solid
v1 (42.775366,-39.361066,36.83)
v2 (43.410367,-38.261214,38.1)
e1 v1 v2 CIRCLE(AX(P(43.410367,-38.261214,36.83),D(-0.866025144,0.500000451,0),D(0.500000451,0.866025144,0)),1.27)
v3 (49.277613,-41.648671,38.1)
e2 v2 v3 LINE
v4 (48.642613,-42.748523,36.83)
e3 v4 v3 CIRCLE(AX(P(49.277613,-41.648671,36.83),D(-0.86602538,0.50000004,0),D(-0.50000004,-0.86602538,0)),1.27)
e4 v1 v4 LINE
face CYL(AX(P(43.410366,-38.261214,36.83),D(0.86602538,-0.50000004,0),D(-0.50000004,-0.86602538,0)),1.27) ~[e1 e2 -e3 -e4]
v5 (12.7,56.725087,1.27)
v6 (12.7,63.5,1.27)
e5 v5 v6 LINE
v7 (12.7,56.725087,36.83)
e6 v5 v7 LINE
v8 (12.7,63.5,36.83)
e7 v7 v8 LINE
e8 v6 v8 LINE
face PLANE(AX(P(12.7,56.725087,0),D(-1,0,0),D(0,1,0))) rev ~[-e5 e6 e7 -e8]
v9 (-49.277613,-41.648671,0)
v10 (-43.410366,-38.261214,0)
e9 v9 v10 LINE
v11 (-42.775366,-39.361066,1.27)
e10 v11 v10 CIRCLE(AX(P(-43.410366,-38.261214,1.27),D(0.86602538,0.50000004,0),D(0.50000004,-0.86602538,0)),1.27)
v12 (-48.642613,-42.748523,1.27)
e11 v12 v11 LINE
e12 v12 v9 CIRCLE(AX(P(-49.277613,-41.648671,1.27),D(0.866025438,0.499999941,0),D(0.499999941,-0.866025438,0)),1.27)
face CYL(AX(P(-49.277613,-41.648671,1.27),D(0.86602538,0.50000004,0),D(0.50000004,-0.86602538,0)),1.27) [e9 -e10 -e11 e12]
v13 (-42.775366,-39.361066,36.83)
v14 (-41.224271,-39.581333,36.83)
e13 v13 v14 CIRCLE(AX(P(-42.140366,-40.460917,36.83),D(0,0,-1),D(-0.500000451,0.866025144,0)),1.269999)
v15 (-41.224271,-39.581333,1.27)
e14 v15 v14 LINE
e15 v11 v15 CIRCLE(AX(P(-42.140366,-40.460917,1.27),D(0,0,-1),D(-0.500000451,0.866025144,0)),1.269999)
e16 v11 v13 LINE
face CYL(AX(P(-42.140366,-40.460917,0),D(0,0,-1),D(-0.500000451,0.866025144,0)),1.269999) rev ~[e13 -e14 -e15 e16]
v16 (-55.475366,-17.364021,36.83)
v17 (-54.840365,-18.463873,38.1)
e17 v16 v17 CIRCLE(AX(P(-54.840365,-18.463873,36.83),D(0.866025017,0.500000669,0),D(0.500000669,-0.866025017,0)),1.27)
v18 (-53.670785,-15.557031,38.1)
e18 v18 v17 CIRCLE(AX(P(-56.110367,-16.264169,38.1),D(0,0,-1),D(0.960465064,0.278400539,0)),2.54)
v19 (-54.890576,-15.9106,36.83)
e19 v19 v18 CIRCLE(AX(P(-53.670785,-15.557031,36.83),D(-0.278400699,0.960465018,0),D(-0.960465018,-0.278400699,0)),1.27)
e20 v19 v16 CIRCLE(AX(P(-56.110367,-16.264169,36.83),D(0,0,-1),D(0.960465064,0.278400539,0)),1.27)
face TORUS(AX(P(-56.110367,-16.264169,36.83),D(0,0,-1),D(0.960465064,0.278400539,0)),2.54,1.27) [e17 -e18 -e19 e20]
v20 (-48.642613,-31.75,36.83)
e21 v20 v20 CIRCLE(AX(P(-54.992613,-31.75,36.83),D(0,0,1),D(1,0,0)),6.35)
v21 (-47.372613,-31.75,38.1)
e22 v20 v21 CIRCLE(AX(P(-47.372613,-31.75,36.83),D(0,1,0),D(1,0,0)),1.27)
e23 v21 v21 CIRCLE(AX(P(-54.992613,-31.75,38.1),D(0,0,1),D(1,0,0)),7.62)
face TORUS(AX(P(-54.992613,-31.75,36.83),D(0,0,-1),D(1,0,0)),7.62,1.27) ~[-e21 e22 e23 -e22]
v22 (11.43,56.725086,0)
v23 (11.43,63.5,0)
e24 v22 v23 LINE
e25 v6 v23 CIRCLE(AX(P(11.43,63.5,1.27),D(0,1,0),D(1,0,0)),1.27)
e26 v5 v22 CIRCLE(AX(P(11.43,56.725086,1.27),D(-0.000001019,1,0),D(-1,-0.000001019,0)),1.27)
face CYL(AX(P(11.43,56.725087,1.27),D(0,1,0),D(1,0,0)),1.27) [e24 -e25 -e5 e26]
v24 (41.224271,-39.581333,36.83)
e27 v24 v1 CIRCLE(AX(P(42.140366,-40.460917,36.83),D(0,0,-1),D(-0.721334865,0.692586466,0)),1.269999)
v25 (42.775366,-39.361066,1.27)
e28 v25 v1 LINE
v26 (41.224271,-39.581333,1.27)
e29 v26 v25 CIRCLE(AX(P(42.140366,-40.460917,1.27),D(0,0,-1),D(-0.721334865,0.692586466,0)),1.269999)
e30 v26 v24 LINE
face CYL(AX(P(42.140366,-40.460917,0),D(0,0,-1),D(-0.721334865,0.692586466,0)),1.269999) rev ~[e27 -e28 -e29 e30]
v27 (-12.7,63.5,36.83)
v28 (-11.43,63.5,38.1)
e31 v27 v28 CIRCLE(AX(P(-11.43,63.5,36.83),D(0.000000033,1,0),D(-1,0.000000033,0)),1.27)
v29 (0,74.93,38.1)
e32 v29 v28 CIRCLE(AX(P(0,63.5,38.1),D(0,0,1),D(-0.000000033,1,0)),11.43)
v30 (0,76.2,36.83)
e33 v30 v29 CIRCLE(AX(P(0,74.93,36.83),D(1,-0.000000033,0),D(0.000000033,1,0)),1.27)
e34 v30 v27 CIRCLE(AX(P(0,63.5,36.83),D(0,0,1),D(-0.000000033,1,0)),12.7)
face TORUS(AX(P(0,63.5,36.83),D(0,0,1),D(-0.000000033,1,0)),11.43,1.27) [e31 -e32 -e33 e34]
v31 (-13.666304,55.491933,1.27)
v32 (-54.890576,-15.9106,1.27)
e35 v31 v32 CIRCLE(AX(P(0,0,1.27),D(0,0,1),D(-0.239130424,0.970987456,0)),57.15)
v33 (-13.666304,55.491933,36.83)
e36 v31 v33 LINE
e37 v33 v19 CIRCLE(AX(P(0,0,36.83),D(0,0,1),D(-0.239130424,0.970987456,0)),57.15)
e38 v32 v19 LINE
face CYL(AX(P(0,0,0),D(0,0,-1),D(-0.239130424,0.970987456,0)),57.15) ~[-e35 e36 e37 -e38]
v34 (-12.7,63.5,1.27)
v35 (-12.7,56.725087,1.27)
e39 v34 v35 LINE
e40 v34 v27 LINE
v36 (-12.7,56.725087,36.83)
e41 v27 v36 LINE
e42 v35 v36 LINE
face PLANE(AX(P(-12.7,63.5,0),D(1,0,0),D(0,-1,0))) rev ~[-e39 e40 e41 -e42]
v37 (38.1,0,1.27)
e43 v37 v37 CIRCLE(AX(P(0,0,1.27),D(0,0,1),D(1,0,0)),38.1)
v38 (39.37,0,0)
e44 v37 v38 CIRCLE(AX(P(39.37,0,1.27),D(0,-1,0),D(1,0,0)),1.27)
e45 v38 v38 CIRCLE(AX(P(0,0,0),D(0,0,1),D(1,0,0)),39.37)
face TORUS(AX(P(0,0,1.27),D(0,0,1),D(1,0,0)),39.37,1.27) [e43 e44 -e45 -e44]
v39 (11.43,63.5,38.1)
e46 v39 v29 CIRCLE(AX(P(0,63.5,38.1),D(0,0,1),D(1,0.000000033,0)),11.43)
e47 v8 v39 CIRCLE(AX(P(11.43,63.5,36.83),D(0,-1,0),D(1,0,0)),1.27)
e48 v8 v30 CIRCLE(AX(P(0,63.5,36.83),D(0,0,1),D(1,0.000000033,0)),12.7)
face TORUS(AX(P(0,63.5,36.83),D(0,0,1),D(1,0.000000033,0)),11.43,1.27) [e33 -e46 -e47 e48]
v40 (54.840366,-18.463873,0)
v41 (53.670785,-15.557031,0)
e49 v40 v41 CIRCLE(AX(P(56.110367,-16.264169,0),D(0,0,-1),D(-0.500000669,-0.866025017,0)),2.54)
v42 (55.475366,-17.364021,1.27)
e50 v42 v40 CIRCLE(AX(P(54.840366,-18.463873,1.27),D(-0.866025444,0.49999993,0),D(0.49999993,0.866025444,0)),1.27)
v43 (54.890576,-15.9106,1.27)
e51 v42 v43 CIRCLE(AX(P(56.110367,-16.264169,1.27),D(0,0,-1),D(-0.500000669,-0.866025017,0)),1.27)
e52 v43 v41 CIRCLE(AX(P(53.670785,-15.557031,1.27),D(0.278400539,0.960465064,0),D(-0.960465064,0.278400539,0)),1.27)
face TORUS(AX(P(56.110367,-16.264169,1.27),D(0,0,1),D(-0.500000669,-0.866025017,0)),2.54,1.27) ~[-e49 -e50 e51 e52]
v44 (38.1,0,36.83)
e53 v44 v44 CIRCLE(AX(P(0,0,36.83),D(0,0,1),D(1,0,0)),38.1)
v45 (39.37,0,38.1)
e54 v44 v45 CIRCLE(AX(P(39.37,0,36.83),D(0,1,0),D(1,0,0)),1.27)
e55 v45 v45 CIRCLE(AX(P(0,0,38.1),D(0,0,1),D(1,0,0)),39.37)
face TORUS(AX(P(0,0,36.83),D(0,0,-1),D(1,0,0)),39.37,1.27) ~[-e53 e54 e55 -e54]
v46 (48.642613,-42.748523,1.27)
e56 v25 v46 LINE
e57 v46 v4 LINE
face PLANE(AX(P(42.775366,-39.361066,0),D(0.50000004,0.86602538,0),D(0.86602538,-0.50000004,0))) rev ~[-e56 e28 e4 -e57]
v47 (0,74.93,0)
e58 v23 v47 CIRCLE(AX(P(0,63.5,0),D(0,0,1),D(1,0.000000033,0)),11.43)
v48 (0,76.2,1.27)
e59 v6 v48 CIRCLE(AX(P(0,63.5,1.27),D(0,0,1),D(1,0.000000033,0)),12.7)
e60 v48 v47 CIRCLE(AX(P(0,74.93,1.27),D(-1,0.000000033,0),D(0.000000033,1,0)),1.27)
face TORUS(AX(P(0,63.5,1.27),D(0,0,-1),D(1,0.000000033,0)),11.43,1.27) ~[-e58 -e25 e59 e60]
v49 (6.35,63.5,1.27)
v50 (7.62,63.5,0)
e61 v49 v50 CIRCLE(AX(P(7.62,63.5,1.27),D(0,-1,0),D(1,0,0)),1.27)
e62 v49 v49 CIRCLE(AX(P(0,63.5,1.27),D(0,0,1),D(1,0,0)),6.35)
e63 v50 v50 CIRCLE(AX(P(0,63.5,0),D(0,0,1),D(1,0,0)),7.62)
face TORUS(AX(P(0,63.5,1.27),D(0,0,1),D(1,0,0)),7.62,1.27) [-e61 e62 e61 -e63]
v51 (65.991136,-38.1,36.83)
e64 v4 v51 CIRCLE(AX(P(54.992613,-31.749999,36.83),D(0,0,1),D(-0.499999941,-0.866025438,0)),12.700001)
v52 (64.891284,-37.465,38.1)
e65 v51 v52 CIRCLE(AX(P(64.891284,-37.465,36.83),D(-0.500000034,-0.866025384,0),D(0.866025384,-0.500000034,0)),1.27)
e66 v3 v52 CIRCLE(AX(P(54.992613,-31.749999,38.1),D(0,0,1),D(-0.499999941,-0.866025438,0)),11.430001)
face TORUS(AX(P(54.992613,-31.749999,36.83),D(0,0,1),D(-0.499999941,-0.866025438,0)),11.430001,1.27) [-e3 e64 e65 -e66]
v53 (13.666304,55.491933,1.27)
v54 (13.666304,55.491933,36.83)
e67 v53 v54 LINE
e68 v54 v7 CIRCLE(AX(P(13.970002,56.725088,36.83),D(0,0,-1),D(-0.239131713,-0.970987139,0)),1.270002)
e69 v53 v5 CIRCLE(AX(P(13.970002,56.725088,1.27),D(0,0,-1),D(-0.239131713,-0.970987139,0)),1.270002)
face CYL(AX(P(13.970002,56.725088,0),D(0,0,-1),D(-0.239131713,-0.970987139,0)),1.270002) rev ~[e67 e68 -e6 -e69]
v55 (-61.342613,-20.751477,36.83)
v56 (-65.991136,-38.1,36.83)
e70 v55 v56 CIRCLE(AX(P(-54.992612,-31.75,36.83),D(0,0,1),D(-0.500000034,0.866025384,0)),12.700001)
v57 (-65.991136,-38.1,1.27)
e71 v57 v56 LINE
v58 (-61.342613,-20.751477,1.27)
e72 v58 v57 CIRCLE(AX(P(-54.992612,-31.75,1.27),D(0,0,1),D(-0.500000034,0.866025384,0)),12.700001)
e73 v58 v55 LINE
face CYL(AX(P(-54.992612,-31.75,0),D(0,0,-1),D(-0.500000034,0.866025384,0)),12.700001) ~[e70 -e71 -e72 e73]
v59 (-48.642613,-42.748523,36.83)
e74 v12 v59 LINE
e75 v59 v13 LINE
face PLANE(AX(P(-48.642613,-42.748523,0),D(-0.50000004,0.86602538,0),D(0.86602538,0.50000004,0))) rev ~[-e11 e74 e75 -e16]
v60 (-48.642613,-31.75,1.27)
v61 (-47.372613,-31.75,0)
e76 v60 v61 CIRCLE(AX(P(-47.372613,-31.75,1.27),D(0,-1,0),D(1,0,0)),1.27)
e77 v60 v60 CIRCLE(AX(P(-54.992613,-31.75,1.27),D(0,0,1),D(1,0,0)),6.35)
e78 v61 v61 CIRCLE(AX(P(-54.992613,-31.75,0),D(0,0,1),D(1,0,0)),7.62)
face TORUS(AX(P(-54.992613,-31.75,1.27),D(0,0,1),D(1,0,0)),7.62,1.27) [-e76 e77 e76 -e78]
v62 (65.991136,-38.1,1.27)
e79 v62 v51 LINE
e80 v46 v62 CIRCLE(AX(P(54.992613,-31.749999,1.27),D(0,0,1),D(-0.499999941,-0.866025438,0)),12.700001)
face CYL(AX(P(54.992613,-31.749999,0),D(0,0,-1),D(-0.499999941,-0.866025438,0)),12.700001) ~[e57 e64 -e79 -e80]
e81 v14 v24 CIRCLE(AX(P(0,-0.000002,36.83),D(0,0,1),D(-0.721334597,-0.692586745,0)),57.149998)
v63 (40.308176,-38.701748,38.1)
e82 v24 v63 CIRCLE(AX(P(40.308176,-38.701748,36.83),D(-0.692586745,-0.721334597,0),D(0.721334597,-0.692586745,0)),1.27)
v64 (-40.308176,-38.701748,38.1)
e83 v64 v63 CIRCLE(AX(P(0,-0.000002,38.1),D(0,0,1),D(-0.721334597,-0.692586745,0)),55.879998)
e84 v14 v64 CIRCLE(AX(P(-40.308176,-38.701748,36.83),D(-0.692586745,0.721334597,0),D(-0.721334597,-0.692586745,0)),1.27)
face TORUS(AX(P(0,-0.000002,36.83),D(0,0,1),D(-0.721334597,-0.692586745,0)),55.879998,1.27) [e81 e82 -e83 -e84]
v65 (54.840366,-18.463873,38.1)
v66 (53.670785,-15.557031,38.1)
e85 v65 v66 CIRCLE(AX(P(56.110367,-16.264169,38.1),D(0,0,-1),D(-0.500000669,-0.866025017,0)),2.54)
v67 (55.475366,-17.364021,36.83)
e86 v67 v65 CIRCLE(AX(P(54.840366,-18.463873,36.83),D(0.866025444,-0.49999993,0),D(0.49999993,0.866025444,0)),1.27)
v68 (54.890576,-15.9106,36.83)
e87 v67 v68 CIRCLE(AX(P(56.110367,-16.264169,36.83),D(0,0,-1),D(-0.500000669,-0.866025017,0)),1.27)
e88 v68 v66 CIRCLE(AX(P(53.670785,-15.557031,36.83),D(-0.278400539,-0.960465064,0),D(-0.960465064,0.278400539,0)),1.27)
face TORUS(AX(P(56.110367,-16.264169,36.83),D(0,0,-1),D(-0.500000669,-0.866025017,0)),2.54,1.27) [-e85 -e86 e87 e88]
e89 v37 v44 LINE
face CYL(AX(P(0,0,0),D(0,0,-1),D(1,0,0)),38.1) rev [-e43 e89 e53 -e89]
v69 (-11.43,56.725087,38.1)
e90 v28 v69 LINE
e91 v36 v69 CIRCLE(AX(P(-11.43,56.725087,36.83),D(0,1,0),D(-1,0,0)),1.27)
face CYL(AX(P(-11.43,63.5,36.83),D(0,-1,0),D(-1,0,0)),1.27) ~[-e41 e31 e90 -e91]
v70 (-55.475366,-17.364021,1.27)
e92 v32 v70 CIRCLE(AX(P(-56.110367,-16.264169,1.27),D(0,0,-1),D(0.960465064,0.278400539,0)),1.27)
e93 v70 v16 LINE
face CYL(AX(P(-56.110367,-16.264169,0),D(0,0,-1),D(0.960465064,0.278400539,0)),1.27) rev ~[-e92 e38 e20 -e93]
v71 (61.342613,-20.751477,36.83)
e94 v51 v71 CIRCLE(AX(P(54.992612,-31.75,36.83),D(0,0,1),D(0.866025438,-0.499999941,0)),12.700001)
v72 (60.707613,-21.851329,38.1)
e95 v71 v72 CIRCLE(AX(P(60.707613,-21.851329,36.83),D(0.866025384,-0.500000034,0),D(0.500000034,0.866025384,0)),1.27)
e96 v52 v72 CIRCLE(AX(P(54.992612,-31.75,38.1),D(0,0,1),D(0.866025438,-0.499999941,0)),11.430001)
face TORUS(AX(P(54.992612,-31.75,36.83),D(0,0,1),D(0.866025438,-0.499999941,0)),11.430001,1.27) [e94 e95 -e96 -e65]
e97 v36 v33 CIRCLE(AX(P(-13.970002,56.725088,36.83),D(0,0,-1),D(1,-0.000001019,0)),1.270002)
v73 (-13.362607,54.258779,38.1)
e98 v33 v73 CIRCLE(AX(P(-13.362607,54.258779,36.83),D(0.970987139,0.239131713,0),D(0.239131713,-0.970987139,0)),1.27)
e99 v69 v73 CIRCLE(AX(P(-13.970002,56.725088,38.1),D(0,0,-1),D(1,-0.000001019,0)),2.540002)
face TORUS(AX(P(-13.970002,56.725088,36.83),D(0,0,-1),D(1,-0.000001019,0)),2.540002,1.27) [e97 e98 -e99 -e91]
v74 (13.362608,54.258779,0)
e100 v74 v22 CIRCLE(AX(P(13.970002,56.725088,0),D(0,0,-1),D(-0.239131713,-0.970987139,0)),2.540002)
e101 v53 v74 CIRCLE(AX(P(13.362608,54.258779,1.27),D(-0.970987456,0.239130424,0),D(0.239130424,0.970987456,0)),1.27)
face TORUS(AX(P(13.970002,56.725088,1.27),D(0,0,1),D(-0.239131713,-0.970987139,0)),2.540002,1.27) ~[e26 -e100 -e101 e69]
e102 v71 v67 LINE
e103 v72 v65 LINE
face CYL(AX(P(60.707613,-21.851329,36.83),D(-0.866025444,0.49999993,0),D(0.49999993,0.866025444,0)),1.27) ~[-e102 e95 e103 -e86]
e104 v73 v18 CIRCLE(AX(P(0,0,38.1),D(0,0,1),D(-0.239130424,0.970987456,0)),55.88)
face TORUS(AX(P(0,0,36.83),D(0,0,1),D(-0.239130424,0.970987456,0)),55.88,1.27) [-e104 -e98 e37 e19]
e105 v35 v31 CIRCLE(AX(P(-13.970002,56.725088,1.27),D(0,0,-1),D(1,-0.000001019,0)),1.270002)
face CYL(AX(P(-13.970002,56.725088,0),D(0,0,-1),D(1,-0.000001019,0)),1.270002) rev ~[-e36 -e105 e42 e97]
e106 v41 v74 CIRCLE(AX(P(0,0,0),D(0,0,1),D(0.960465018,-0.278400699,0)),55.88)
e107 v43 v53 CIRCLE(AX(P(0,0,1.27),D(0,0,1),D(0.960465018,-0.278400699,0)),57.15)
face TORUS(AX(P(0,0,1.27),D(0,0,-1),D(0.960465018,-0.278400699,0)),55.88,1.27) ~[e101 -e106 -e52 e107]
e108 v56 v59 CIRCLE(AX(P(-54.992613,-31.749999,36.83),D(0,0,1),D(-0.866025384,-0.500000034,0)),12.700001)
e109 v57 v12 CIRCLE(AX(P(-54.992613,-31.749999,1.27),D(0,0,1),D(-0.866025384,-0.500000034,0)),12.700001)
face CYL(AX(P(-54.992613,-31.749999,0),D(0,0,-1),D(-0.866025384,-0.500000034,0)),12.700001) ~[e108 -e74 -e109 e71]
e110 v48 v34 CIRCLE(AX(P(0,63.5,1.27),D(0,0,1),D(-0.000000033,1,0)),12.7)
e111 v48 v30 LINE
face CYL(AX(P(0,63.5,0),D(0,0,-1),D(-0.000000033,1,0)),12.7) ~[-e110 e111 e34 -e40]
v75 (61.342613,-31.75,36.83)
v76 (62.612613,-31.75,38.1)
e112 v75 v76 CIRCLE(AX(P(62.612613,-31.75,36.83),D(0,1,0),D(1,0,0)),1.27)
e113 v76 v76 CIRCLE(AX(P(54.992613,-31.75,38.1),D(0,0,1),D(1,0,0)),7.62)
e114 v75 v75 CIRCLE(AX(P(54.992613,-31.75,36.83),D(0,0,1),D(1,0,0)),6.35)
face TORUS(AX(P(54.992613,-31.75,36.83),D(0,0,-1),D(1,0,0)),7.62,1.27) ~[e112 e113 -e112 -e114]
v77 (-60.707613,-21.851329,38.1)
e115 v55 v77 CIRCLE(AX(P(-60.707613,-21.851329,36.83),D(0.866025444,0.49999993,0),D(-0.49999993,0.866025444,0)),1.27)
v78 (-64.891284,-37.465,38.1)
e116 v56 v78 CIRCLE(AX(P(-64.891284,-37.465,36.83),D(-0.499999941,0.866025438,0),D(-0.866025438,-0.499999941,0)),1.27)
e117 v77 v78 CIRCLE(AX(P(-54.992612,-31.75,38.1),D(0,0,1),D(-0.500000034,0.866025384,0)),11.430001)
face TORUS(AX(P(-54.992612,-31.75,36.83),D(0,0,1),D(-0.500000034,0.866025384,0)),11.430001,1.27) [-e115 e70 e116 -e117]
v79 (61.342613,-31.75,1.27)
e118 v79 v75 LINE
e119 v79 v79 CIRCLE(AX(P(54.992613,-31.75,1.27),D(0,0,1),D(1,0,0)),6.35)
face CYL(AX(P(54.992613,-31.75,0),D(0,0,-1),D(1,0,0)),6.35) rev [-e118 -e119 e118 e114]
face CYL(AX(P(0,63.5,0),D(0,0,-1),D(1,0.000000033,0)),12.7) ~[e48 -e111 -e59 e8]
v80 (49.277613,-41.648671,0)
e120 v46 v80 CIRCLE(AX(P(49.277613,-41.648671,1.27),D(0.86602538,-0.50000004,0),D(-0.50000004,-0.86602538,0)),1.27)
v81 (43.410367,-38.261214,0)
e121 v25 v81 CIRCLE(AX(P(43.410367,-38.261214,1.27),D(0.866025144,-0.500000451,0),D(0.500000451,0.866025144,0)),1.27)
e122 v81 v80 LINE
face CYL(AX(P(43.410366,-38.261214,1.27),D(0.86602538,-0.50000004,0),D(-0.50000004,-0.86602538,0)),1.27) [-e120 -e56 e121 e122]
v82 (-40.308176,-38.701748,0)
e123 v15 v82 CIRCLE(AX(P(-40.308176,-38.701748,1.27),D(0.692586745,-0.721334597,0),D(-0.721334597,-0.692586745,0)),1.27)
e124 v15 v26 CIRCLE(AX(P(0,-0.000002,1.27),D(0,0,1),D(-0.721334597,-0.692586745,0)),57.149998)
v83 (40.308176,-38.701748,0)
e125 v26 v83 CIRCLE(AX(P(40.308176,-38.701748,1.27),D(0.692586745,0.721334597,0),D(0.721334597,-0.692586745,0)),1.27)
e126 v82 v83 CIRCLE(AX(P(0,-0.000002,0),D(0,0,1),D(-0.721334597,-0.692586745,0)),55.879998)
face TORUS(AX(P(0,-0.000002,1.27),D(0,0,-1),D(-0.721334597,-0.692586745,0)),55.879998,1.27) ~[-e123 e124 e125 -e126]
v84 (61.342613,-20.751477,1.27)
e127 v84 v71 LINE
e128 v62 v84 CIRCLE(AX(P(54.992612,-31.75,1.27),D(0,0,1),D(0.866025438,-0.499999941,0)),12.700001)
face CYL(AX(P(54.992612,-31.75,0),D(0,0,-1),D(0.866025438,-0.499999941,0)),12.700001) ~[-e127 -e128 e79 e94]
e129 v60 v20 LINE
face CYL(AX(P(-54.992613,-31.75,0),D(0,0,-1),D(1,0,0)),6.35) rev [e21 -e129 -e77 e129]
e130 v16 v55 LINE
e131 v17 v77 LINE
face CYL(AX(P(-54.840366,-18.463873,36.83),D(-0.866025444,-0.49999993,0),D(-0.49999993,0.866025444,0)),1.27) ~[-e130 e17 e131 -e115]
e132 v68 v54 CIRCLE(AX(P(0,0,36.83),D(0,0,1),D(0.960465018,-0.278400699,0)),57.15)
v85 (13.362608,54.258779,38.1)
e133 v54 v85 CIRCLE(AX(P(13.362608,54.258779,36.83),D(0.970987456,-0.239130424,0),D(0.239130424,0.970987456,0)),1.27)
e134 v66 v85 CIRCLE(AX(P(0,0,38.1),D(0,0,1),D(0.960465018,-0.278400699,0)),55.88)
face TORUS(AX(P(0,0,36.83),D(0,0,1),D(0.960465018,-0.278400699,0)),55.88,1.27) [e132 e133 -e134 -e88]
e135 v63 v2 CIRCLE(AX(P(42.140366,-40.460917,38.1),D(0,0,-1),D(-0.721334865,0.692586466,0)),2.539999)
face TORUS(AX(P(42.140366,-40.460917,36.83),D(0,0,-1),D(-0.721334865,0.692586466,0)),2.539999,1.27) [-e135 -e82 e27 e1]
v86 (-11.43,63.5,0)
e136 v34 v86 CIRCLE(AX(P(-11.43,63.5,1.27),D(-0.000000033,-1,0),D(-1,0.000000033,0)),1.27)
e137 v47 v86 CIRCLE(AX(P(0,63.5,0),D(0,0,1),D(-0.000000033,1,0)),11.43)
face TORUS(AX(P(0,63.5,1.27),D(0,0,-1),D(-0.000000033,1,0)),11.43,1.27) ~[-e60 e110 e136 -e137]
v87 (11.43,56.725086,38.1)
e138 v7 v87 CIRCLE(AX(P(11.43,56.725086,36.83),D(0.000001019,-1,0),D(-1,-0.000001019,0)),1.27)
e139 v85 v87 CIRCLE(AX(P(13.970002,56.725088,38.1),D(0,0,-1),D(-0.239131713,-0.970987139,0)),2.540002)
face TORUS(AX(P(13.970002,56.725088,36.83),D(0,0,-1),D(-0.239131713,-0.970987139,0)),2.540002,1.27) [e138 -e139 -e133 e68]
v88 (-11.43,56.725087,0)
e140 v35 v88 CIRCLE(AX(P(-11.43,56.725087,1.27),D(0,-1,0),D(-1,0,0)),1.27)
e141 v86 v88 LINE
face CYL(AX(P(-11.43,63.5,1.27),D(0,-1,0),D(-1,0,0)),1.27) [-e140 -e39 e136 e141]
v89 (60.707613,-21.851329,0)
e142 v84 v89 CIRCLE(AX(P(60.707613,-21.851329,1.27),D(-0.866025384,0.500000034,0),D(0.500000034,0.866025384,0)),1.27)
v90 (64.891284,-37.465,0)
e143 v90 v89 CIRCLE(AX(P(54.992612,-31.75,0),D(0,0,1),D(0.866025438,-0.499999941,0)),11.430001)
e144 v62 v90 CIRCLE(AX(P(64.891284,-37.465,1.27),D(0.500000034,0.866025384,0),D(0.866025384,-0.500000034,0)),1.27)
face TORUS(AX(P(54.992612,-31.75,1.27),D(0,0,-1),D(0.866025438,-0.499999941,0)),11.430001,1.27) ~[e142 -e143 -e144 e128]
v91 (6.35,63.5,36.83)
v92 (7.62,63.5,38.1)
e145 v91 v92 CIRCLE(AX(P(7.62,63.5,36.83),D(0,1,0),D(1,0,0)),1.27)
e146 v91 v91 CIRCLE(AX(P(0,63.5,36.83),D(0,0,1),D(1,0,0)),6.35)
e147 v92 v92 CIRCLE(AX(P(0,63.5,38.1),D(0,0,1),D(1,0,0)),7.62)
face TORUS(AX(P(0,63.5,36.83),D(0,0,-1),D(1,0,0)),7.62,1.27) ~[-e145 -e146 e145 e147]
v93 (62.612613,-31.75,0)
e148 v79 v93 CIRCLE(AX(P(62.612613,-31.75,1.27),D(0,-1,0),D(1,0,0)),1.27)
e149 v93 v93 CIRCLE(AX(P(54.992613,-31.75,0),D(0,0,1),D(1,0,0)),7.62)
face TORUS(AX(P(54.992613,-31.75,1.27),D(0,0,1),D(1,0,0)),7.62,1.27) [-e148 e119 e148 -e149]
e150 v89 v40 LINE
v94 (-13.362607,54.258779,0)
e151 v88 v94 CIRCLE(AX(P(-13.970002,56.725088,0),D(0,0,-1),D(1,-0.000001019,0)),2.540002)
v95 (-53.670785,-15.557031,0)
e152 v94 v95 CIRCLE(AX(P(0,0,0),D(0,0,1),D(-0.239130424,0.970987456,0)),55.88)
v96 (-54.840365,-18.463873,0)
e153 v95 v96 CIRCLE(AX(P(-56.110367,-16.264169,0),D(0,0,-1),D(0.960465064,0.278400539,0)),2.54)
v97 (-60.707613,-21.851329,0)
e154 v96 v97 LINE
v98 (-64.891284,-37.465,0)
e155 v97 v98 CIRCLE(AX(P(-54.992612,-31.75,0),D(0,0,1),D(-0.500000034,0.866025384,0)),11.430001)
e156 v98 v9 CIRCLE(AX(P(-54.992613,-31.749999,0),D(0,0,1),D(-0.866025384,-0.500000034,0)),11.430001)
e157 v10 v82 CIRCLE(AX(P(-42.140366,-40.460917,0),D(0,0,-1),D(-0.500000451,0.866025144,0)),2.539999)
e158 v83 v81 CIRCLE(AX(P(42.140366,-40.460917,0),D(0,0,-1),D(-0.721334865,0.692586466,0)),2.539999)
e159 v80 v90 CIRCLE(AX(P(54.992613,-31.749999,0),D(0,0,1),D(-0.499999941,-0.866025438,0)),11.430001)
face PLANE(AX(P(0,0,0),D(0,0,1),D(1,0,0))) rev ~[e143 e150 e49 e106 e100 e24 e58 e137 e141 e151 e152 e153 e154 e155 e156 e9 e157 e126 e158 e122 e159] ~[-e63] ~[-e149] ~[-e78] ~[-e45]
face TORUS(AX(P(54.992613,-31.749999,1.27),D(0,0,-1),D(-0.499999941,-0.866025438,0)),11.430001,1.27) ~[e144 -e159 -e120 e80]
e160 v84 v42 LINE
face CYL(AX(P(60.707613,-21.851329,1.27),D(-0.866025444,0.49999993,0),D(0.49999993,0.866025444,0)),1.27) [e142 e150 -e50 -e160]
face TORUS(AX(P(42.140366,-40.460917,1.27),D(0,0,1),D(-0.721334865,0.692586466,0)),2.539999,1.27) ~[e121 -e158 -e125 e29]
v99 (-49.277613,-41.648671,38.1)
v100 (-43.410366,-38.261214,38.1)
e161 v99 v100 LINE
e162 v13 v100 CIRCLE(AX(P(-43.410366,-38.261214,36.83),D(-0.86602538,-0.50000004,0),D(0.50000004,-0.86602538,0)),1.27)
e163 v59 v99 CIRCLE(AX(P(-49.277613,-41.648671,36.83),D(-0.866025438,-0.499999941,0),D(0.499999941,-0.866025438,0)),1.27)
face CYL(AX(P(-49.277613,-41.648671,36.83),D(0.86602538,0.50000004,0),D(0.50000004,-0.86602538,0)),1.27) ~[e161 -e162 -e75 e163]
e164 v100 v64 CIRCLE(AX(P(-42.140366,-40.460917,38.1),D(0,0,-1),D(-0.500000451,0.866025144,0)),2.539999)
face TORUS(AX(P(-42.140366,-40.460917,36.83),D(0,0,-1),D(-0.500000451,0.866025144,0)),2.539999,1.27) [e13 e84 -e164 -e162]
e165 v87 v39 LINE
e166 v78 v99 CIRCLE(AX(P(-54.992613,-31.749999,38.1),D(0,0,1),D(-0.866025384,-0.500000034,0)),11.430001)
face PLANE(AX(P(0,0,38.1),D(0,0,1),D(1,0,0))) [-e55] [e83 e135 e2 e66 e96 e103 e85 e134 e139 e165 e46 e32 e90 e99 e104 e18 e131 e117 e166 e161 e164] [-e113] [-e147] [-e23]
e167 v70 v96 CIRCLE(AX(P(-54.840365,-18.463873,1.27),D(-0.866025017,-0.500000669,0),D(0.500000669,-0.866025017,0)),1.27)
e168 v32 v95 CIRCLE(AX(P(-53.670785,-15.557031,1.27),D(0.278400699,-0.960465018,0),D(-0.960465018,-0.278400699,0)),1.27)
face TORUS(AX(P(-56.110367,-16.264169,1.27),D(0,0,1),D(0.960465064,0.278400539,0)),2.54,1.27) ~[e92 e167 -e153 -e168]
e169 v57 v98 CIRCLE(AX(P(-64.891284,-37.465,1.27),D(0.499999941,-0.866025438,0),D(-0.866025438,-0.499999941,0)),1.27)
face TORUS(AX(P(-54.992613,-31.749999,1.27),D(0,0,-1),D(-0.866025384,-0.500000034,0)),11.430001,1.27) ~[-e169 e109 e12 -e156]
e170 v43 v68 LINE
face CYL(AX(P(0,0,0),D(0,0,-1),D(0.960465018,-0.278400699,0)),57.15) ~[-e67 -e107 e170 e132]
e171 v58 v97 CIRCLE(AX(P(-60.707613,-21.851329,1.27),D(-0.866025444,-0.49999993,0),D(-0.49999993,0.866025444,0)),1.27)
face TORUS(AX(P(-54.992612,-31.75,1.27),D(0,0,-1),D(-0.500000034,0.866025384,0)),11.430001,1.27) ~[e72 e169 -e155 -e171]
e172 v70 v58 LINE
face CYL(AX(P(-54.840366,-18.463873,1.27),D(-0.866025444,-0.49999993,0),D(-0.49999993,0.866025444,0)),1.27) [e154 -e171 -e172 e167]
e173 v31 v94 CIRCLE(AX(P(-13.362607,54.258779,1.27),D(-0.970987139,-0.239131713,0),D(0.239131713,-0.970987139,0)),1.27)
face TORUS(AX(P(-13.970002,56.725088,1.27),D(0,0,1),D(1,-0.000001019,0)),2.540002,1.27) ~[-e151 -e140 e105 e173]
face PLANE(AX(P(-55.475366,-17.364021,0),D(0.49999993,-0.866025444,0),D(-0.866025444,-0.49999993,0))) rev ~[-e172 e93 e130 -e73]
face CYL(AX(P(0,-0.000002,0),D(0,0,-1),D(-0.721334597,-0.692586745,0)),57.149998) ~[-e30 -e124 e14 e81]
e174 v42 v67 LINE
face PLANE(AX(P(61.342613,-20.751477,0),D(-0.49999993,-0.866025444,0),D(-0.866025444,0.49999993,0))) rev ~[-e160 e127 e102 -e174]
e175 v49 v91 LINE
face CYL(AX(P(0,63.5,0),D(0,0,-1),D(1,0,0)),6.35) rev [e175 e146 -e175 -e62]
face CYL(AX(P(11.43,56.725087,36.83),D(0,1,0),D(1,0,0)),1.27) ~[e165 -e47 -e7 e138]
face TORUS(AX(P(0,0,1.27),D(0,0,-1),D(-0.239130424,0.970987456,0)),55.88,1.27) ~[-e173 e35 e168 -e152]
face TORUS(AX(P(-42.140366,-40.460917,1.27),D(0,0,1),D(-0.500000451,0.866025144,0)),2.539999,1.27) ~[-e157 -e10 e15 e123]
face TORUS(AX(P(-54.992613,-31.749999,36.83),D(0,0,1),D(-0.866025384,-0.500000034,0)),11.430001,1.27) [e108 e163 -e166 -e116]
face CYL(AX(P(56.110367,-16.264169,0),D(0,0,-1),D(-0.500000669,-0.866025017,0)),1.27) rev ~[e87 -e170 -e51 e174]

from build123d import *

# Parameters (mm, degrees)
F0_R     = 6.35
F0_R_2   = 38.1
F1_DEPTH = 38.1
F2_R     = 1.27


with BuildPart() as f1:
    # F0 (on Top) → F1 (new body)
    with BuildSketch(Plane.XY):
        with BuildLine():
            ThreePointArc((-12.7, 56.725087), (-12.970352, 55.941759), (-13.666304, 55.491933))
            ThreePointArc((-13.666304, 55.491933), (-49.493352, 28.575), (-54.890576, -15.9106))
            ThreePointArc((-54.890576, -15.9106), (-54.93216, -16.738225), (-55.475366, -17.364021))
            Line((-55.475366, -17.364021), (-61.342613, -20.751477))
            ThreePointArc((-61.342613, -20.751477), (-67.259871, -28.462998), (-65.991136, -38.1))
            ThreePointArc((-65.991136, -38.1), (-58.279615, -44.017258), (-48.642613, -42.748523))
            Line((-48.642613, -42.748523), (-42.775366, -39.361066))
            ThreePointArc((-42.775366, -39.361066), (-41.961808, -39.203533), (-41.224271, -39.581333))
            ThreePointArc((-41.224271, -39.581333), (0, -57.15), (41.224271, -39.581333))
            ThreePointArc((41.224271, -39.581333), (41.961808, -39.203533), (42.775366, -39.361066))
            Line((42.775366, -39.361066), (48.642613, -42.748523))
            ThreePointArc((48.642613, -42.748523), (58.279615, -44.017258), (65.991136, -38.1))
            ThreePointArc((65.991136, -38.1), (67.259871, -28.462998), (61.342613, -20.751477))
            Line((61.342613, -20.751477), (55.475366, -17.364021))
            ThreePointArc((55.475366, -17.364021), (54.93216, -16.738225), (54.890576, -15.9106))
            ThreePointArc((54.890576, -15.9106), (49.493352, 28.575), (13.666304, 55.491933))
            ThreePointArc((13.666304, 55.491933), (12.970352, 55.941759), (12.7, 56.725087))
            Line((12.7, 56.725087), (12.7, 63.5))
            ThreePointArc((12.7, 63.5), (8.980256, 72.480256), (0, 76.2))
            ThreePointArc((0, 76.2), (-8.980256, 72.480256), (-12.7, 63.5))
            Line((-12.7, 63.5), (-12.7, 56.725087))
        make_face()
        with Locations((-54.992613, -31.75)):
            Circle(F0_R, mode=Mode.SUBTRACT)
        Circle(F0_R_2, mode=Mode.SUBTRACT)
        with Locations((54.992613, -31.75)):
            Circle(F0_R, mode=Mode.SUBTRACT)
        with Locations((0, 63.5)):
            Circle(F0_R, mode=Mode.SUBTRACT)
    extrude(amount=F1_DEPTH)

    # F2
    f2_edges = [f1.edges().sort_by_distance(p)[0] for p in [
        (0, -57.15, 38.1),
        (41.961808, -39.203533, 38.1),
        (45.70899, -41.054794, 38.1),
        (65.991136, -38.1, 38.1),
        (58.40899, -19.057749, 38.1),
        (54.93216, -16.738225, 38.1),
        (49.493352, 28.575, 38.1),
        (12.970352, 55.941759, 38.1),
        (12.7, 60.112544, 38.1),
        (0, 76.2, 38.1),
        (-12.7, 60.112544, 38.1),
        (-12.970352, 55.941759, 38.1),
        (-49.493352, 28.575, 38.1),
        (-54.93216, -16.738225, 38.1),
        (-58.40899, -19.057749, 38.1),
        (-65.991136, -38.1, 38.1),
        (-45.70899, -41.054794, 38.1),
        (-41.961808, -39.203533, 38.1),
        (-61.342613, -31.75, 38.1),
        (-38.1, 0, 38.1),
        (48.642613, -31.75, 38.1),
        (-6.35, 63.5, 38.1),
        (0, -57.15, 0),
        (41.961808, -39.203533, 0),
        (45.70899, -41.054794, 0),
        (65.991136, -38.1, 0),
        (58.40899, -19.057749, 0),
        (54.93216, -16.738225, 0),
        (49.493352, 28.575, 0),
        (12.970352, 55.941759, 0),
        (12.7, 60.112544, 0),
        (0, 76.2, 0),
        (-12.7, 60.112544, 0),
        (-12.970352, 55.941759, 0),
        (-49.493352, 28.575, 0),
        (-54.93216, -16.738225, 0),
        (-58.40899, -19.057749, 0),
        (-65.991136, -38.1, 0),
        (-45.70899, -41.054794, 0),
        (-41.961808, -39.203533, 0),
        (-61.342613, -31.75, 0),
        (-38.1, 0, 0),
        (48.642613, -31.75, 0),
        (-6.35, 63.5, 0),
    ]]
    fillet(f2_edges, radius=F2_R)


solid = f1.part
